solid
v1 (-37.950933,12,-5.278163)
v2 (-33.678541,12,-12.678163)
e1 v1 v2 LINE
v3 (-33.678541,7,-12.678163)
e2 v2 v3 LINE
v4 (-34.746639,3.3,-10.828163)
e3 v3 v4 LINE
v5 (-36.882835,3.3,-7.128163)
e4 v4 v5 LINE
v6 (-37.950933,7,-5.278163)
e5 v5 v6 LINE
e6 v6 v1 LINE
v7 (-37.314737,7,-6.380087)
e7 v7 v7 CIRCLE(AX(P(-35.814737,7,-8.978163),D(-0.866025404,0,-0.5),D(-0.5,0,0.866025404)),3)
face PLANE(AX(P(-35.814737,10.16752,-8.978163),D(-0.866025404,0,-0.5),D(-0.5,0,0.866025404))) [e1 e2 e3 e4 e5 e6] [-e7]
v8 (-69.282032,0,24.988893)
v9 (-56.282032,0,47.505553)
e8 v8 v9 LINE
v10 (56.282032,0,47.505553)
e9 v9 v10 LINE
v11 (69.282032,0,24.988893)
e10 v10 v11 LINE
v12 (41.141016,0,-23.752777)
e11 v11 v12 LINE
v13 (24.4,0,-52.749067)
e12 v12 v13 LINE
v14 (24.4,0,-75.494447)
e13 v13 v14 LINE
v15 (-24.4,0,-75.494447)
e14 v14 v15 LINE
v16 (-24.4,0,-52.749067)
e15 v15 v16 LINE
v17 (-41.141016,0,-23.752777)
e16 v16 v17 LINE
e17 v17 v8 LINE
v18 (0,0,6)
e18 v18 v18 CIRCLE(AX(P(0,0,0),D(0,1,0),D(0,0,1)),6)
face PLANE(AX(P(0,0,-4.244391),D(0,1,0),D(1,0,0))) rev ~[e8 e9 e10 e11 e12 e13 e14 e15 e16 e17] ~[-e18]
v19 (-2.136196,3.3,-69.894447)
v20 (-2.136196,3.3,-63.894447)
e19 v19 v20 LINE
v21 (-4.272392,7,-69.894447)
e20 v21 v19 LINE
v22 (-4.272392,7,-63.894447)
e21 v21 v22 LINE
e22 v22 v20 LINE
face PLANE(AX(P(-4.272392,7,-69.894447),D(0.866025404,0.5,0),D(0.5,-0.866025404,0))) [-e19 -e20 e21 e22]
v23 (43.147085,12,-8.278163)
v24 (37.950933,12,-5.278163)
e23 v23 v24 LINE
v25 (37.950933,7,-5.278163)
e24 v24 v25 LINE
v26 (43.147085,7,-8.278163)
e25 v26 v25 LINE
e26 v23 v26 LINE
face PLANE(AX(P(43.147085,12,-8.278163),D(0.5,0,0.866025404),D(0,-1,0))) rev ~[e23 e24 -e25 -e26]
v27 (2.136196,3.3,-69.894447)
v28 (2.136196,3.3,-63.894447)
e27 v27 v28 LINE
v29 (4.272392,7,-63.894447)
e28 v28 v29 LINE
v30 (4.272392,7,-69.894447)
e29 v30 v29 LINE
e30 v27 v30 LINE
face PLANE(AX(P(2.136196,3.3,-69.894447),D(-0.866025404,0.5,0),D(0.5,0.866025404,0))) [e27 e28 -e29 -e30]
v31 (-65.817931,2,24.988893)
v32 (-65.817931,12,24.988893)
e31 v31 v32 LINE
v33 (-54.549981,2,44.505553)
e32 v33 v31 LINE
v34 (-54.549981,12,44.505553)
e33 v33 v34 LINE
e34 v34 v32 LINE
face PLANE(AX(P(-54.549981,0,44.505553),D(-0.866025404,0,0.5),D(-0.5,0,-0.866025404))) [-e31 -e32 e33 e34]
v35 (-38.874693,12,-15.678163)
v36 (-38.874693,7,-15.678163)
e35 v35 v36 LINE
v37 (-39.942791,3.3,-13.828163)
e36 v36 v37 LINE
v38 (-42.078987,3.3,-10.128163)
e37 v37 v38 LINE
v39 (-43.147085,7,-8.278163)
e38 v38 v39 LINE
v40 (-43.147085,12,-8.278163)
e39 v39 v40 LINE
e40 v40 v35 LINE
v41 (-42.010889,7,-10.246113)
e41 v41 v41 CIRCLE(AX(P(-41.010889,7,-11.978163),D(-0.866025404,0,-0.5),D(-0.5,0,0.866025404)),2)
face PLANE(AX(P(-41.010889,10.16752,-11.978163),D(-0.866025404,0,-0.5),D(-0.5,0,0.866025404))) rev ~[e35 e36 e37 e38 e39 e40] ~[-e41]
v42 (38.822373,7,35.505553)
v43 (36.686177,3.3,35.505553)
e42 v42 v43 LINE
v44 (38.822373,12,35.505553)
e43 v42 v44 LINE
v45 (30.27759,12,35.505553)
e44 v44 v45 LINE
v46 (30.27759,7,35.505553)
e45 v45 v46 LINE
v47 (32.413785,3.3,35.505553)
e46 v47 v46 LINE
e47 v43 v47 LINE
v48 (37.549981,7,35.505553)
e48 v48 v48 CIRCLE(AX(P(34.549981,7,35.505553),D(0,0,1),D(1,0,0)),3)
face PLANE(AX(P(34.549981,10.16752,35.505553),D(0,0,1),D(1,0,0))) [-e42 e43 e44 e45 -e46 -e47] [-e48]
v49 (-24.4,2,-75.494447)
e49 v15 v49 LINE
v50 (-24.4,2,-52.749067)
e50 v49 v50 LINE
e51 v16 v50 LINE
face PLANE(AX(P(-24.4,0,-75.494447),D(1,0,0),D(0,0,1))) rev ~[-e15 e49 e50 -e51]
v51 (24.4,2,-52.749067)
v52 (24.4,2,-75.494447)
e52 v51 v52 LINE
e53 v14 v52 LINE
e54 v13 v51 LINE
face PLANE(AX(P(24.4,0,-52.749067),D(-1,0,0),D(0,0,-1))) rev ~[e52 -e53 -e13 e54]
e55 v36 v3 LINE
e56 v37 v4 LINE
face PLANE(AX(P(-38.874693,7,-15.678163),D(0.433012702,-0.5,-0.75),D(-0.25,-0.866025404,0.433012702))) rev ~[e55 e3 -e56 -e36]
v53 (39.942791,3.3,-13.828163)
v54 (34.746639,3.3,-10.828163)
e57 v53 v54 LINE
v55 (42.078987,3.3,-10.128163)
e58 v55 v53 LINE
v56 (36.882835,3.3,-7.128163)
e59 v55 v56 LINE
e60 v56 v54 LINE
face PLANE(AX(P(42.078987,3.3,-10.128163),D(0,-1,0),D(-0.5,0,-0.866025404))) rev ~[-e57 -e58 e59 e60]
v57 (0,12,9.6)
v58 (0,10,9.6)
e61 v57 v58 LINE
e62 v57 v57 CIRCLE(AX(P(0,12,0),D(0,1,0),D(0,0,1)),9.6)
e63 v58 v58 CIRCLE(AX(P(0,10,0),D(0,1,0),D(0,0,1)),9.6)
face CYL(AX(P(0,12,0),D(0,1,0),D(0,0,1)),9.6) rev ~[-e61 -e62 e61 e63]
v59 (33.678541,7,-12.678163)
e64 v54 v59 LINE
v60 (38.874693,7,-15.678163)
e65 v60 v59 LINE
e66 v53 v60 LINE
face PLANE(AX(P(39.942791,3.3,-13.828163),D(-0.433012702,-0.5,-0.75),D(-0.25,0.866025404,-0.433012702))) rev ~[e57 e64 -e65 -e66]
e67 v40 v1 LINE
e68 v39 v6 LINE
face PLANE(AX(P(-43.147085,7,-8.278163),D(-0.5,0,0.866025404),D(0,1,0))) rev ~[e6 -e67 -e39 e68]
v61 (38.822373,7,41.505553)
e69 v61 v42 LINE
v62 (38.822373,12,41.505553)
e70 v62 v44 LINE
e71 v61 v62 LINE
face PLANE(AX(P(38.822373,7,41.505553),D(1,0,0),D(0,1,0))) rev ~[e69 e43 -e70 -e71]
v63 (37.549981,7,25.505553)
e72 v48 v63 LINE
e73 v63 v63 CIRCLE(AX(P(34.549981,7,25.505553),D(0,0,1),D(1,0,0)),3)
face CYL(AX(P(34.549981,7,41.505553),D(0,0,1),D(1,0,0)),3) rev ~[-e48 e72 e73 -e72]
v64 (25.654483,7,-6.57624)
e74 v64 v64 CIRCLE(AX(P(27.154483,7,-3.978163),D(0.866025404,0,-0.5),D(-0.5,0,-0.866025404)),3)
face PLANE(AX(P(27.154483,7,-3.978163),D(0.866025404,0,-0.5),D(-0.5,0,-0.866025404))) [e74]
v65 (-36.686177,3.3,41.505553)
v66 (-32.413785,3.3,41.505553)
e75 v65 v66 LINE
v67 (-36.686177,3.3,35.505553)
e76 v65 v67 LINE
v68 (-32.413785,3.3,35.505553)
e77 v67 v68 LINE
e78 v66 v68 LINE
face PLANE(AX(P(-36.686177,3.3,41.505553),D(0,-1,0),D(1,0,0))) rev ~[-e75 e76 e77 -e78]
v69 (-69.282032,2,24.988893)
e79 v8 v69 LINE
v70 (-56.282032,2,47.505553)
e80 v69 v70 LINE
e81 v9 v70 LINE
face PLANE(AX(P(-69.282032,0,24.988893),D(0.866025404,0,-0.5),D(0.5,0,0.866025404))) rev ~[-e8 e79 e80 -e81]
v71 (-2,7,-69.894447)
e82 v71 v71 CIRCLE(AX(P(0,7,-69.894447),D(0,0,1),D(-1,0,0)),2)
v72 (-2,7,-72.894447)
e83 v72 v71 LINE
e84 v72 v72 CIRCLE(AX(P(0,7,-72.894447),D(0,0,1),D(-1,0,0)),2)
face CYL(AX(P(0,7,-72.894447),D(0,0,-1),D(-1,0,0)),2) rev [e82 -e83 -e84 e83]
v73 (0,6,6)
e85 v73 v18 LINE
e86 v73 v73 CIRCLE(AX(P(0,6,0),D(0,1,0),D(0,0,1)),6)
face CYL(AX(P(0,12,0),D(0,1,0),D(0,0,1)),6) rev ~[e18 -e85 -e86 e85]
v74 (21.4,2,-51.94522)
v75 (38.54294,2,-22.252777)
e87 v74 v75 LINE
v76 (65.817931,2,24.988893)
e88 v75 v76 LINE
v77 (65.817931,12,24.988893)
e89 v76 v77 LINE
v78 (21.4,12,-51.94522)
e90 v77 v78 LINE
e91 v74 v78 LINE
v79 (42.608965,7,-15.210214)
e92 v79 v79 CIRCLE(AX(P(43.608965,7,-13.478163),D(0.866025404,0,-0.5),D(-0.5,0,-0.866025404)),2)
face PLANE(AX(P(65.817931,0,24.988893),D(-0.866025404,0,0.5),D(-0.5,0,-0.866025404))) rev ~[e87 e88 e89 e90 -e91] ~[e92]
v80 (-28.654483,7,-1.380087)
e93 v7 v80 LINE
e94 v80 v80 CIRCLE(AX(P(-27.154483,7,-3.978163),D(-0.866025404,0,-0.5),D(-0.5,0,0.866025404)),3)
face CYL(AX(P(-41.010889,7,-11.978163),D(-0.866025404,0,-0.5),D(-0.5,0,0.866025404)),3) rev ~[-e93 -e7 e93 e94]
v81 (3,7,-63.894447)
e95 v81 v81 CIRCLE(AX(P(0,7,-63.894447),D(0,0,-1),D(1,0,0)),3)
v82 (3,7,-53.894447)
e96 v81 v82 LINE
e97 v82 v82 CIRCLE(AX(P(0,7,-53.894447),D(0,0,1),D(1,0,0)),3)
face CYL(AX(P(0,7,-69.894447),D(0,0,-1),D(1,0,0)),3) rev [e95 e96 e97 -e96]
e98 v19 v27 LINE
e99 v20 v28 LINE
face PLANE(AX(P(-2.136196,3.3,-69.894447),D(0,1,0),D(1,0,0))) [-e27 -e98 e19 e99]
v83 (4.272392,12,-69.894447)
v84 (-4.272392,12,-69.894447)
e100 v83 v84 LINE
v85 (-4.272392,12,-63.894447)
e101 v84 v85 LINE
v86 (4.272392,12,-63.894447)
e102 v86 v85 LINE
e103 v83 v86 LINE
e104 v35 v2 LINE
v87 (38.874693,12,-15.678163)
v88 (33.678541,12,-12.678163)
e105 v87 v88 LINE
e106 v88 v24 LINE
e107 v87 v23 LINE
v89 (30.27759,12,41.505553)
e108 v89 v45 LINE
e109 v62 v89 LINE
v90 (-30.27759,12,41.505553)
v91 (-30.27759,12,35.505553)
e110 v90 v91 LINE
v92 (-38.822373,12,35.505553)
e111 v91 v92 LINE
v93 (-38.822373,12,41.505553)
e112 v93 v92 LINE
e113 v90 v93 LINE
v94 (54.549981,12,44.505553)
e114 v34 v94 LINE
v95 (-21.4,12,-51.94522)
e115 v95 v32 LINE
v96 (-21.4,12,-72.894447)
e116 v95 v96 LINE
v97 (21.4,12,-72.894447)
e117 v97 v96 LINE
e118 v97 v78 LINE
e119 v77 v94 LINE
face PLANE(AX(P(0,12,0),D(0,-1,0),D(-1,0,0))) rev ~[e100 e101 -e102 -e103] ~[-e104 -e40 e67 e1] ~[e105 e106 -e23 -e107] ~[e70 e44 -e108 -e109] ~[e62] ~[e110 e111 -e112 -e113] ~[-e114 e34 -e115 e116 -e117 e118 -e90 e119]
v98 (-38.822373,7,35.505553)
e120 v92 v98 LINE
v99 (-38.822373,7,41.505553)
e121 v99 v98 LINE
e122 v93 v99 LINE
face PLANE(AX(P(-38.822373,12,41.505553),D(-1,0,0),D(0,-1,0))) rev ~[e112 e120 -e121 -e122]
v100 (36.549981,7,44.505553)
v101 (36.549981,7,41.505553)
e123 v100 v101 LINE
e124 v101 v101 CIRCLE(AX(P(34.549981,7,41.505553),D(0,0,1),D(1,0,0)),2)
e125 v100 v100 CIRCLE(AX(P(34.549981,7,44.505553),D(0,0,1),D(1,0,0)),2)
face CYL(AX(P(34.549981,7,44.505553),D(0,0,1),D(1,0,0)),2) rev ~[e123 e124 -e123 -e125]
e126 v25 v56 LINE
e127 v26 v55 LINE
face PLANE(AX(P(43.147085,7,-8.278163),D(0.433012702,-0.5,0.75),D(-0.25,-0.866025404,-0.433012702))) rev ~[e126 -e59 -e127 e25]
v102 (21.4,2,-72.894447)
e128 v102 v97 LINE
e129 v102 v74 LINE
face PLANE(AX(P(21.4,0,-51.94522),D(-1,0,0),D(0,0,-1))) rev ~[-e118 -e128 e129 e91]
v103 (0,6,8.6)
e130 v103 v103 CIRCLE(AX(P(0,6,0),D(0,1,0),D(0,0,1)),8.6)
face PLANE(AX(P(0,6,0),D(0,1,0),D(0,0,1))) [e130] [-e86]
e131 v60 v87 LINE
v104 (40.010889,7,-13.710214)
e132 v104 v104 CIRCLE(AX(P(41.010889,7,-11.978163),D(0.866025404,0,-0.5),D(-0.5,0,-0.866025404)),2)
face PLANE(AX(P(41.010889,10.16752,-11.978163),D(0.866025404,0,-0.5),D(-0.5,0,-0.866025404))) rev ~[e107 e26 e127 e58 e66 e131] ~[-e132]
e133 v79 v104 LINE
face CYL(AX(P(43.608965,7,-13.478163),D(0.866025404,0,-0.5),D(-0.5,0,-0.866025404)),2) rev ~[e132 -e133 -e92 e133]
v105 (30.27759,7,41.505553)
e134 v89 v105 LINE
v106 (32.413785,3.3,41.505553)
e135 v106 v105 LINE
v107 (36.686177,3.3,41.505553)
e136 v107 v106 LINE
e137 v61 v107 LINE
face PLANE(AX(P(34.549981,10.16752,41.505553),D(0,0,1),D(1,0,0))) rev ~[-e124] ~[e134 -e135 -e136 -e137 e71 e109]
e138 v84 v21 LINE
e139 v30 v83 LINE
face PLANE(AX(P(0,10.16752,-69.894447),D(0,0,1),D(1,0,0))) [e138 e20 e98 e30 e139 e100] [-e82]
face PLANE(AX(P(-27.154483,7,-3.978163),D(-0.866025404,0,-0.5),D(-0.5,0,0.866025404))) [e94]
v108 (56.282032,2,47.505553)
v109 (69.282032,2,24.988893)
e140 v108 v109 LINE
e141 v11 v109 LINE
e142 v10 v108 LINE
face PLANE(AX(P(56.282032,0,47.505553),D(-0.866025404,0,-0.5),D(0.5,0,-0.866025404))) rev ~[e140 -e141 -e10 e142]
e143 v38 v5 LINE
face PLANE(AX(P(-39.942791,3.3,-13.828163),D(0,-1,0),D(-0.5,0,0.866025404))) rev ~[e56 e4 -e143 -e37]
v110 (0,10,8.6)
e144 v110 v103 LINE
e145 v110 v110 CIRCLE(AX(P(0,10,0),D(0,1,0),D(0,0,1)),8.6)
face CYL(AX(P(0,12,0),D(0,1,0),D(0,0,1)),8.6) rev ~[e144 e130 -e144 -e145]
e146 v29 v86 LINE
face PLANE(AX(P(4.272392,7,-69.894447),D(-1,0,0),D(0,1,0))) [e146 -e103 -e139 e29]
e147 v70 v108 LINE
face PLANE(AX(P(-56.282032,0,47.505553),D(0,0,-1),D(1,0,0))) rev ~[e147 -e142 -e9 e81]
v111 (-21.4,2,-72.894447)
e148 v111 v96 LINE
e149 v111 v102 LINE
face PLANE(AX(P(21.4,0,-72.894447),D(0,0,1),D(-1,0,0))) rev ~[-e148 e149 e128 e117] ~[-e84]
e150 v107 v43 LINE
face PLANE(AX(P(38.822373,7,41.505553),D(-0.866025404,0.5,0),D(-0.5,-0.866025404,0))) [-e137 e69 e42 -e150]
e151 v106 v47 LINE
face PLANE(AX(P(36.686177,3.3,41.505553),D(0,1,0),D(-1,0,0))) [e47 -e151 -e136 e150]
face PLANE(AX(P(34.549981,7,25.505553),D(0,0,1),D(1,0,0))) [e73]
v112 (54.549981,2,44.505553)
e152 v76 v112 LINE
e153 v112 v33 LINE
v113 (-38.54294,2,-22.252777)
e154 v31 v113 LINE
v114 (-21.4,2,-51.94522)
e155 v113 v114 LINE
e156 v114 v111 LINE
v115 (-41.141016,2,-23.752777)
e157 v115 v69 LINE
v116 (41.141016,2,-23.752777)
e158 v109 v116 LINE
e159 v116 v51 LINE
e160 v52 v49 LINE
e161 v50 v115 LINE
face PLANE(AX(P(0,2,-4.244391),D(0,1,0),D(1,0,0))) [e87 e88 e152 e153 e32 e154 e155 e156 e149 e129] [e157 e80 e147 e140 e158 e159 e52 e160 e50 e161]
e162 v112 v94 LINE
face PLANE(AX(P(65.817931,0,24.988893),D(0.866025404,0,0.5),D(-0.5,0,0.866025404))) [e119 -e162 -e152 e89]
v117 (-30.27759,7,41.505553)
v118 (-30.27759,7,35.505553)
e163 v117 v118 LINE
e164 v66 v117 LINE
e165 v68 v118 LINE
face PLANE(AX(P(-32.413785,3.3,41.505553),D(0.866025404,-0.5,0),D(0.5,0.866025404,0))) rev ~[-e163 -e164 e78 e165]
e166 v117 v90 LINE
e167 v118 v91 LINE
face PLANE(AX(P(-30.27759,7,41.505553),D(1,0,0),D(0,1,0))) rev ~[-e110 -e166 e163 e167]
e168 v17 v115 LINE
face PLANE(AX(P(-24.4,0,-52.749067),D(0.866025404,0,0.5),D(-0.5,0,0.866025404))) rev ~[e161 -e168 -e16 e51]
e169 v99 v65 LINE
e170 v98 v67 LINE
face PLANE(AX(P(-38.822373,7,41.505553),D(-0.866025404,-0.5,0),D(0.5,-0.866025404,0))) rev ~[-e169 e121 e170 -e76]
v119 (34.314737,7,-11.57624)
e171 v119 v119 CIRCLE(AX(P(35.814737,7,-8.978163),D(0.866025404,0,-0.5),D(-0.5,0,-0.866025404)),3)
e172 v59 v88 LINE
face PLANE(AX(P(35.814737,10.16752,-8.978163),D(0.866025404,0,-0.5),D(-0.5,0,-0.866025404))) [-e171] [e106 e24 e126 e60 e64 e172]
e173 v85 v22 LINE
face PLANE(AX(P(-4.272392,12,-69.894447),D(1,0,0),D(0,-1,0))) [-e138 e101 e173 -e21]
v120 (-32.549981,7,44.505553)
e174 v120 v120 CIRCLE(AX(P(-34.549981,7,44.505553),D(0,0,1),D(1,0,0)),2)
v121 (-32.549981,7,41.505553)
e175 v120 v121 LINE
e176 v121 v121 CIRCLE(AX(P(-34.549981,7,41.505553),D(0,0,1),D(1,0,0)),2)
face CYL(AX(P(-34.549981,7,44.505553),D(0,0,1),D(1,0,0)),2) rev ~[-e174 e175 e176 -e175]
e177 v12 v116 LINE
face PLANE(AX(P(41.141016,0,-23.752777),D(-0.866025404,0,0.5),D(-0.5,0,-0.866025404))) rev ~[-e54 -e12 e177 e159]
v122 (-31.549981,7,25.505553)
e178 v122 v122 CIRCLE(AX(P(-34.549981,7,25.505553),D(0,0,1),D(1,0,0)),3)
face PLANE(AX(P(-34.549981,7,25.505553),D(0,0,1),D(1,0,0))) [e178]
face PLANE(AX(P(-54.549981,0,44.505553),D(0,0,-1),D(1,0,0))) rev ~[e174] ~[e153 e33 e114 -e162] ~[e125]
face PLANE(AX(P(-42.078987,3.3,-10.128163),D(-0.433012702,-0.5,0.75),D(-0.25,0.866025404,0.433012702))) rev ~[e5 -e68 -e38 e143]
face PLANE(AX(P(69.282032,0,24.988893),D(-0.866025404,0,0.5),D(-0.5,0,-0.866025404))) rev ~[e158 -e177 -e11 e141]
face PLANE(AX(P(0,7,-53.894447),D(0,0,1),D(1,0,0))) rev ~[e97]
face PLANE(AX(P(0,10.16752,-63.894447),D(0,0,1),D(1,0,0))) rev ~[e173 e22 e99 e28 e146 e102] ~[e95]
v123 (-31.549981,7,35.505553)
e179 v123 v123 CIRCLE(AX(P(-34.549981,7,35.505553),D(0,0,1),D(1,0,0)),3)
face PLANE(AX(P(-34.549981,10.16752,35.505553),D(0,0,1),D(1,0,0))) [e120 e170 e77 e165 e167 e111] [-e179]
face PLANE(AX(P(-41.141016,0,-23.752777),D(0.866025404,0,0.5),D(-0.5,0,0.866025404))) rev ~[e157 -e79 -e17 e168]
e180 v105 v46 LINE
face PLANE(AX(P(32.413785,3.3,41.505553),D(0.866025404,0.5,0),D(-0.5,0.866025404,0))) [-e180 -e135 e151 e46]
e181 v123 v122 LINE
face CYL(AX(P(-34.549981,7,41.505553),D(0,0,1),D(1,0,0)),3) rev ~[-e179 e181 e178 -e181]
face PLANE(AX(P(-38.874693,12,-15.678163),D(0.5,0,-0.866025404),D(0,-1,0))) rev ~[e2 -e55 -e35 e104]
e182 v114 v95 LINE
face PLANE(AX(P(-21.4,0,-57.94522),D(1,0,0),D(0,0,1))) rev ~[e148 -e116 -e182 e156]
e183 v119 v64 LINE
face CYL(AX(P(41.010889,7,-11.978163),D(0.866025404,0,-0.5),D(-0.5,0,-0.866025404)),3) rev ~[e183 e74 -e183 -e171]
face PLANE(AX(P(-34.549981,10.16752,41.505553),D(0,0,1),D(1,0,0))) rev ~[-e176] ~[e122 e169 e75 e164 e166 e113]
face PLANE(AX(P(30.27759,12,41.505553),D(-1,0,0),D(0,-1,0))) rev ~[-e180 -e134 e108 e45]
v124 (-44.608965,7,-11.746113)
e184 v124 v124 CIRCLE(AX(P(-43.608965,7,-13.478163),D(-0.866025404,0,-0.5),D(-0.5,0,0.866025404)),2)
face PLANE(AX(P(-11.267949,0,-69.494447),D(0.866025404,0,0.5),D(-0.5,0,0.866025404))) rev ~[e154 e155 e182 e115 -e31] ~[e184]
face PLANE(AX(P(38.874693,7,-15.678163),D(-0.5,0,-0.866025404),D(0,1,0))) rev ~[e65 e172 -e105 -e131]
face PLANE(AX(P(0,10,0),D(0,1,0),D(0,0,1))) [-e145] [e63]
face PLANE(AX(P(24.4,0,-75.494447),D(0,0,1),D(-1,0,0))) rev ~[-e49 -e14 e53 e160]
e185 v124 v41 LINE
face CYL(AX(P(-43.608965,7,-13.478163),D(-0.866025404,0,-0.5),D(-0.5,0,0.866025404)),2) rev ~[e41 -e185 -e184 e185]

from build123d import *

# Parameters (mm, degrees)
SKETCH1_R           = 9.6
SKETCH1_R_2         = 8.6
SKETCH1_R_3         = 6
BOSS_EXTRUDE1_DEPTH = 12
BOSS_EXTRUDE2_DEPTH = 2
CUT_EXTRUDE1_START  = 12
SKETCH1_4_R         = 9.6
SKETCH1_4_R_2       = 8.6
CUT_EXTRUDE1_DEPTH  = 2
CUT_EXTRUDE2_START  = 12
SKETCH1_5_R         = 8.6
SKETCH1_5_R_2       = 6
CUT_EXTRUDE2_DEPTH  = 6
CUT_EXTRUDE3_START  = 12
SKETCH1_6_R         = 6
CUT_EXTRUDE3_DEPTH  = 116.166910647
SKETCH2_R           = 2
CUT_EXTRUDE4_DEPTH  = 3
CUT_EXTRUDE5_START  = -3
SKETCH2_4_R         = 3
SKETCH2_4_R_2       = 2
CUT_EXTRUDE5_DEPTH  = 6
CUT_EXTRUDE6_START  = -3
SKETCH2_5_R         = 3
SKETCH2_5_R_2       = 2
CUT_EXTRUDE6_DEPTH  = 16
SKETCH3_R           = 2
CUT_EXTRUDE7_DEPTH  = 3
CUT_EXTRUDE8_START  = 3
SKETCH3_7_R         = 3
SKETCH3_7_R_2       = 2
CUT_EXTRUDE8_DEPTH  = 6
CUT_EXTRUDE9_START  = 3
SKETCH3_8_R         = 3
SKETCH3_8_R_2       = 2
CUT_EXTRUDE9_DEPTH  = 16
SKETCH4_R           = 2
CUT_EXTRUDE10_DEPTH = 3
CUT_EXTRUDE11_START = -3
SKETCH4_3_R         = 3
SKETCH4_3_R_2       = 2
CUT_EXTRUDE11_DEPTH = 6
CUT_EXTRUDE12_START = -3
SKETCH4_4_R         = 3
SKETCH4_4_R_2       = 2
CUT_EXTRUDE12_DEPTH = 16
SKETCH5_R           = 2
CUT_EXTRUDE13_DEPTH = 3
CUT_EXTRUDE14_START = -3
SKETCH5_3_R         = 3
SKETCH5_3_R_2       = 2
CUT_EXTRUDE14_DEPTH = 6
CUT_EXTRUDE15_START = -3
SKETCH5_4_R         = 3
SKETCH5_4_R_2       = 2
CUT_EXTRUDE15_DEPTH = 16


with BuildPart() as part:
    # Sketch1 → Boss-Extrude1 (new body)
    # profile 1 of 7: a face of its own
    with BuildSketch(Plane(origin=(0, 0, 0), x_dir=(1, 0, 0), z_dir=(0, 1, 0))):
        Polygon((-65.817930688, -24.988893001), (-38.54293994, 22.25277675), (-11.267949192, 69.494446501), (11.267949192, 69.494446501), (38.54293994, 22.25277675), (65.817930688, -24.988893001), (54.549981495, -44.505553499), (0, -44.505553499), (-54.549981495, -44.505553499), align=None)
        Polygon((-52.817930688, -41.505553499), (-62.353829072, -24.988893001), (-35.944863729, 20.75277675), (-9.535898385, 66.494446501), (9.535898385, 66.494446501), (35.944863729, 20.75277675), (62.353829072, -24.988893001), (52.817930688, -41.505553499), (0, -41.505553499), align=None, mode=Mode.SUBTRACT)
    # profile 2 of 7: a face of its own
    with BuildSketch(Plane(origin=(0, 0, 0), x_dir=(1, 0, 0), z_dir=(0, 1, 0))):
        Polygon((-62.353829072, -24.988893001), (-35.944863729, 20.75277675), (-9.535898385, 66.494446501), (9.535898385, 66.494446501), (35.944863729, 20.75277675), (62.353829072, -24.988893001), (52.817930688, -41.505553499), (0, -41.505553499), (-52.817930688, -41.505553499), align=None)
        Circle(SKETCH1_R, mode=Mode.SUBTRACT)
    # profile 3 of 7: a face of its own
    with BuildSketch(Plane(origin=(0, 0, 0), x_dir=(1, 0, 0), z_dir=(0, 1, 0))):
        Polygon((13, 72.494446501), (-13, 72.494446501), (-21.4, 57.945219717), (-21.4, 51.945219717), (-11.267949192, 69.494446501), (11.267949192, 69.494446501), (21.4, 51.945219717), (21.4, 57.945219717), align=None)
    # profile 4 of 7: a face of its own
    with BuildSketch(Plane(origin=(0, 0, 0), x_dir=(1, 0, 0), z_dir=(0, 1, 0))):
        Polygon((-21.4, 57.945219717), (-13, 72.494446501), (13, 72.494446501), (21.4, 57.945219717), (21.4, 72.894446501), (-21.4, 72.894446501), align=None)
    # profile 5 of 7: a face of its own
    with BuildSketch(Plane(origin=(0, 0, 0), x_dir=(1, 0, 0), z_dir=(0, 1, 0))):
        Circle(SKETCH1_R)
        Circle(SKETCH1_R_2, mode=Mode.SUBTRACT)
    # profile 6 of 7: a face of its own
    with BuildSketch(Plane(origin=(0, 0, 0), x_dir=(1, 0, 0), z_dir=(0, 1, 0))):
        Circle(SKETCH1_R_2)
        Circle(SKETCH1_R_3, mode=Mode.SUBTRACT)
    # profile 7 of 7: a face of its own
    with BuildSketch(Plane(origin=(0, 0, 0), x_dir=(1, 0, 0), z_dir=(0, 1, 0))):
        Circle(SKETCH1_R_3)
    extrude(amount=BOSS_EXTRUDE1_DEPTH)

    # Sketch1<3> → Boss-Extrude2 (add)
    with BuildSketch(Plane(origin=(0, 0, 0), x_dir=(1, 0, 0), z_dir=(0, 1, 0))):
        Polygon((56.282032303, -47.505553499), (69.282032303, -24.988893001), (41.141016151, 23.75277675), (24.4, 52.749067294), (24.4, 75.494446501), (-24.4, 75.494446501), (-24.4, 52.749067294), (-41.141016151, 23.75277675), (-69.282032303, -24.988893001), (-56.282032303, -47.505553499), (0, -47.505553499), align=None)
        Polygon((-21.4, 51.945219717), (-21.4, 57.945219717), (-21.4, 72.894446501), (21.4, 72.894446501), (21.4, 57.945219717), (21.4, 51.945219717), (38.54293994, 22.25277675), (65.817930688, -24.988893001), (54.549981495, -44.505553499), (0, -44.505553499), (-54.549981495, -44.505553499), (-65.817930688, -24.988893001), (-38.54293994, 22.25277675), align=None, mode=Mode.SUBTRACT)
    extrude(amount=BOSS_EXTRUDE2_DEPTH)

    # Sketch1<4> → Cut-Extrude1 (cut)
    with BuildSketch(Plane(origin=(0, 0, 0), x_dir=(1, 0, 0), z_dir=(0, 1, 0)).offset(CUT_EXTRUDE1_START)):
        with Locations(Location((0, 0, 0), (0, 0, 270))):
            Circle(SKETCH1_4_R)
        with Locations(Location((0, 0, 0), (0, 0, 270))):
            Circle(SKETCH1_4_R_2, mode=Mode.SUBTRACT)
    extrude(amount=-CUT_EXTRUDE1_DEPTH, mode=Mode.SUBTRACT)

    # Sketch1<5> → Cut-Extrude2 (cut)
    with BuildSketch(Plane(origin=(0, 0, 0), x_dir=(1, 0, 0), z_dir=(0, 1, 0)).offset(CUT_EXTRUDE2_START)):
        with Locations(Location((0, 0, 0), (0, 0, 270))):
            Circle(SKETCH1_5_R)
        with Locations(Location((0, 0, 0), (0, 0, 270))):
            Circle(SKETCH1_5_R_2, mode=Mode.SUBTRACT)
    extrude(amount=-CUT_EXTRUDE2_DEPTH, mode=Mode.SUBTRACT)

    # Sketch1<6> → Cut-Extrude3 (cut, through all)
    with BuildSketch(Plane(origin=(0, 0, 0), x_dir=(1, 0, 0), z_dir=(0, 1, 0)).offset(CUT_EXTRUDE3_START)):
        with Locations(Location((0, 0, 0), (0, 0, 270))):
            Circle(SKETCH1_6_R)
    extrude(amount=-CUT_EXTRUDE3_DEPTH, mode=Mode.SUBTRACT)

    # Sketch2 → Cut-Extrude4 (cut)
    with BuildSketch(Plane.XY.offset(44.505553499)):
        with Locations((-34.549981495, 7)):
            Circle(SKETCH2_R)
        with Locations((34.549981495, 7)):
            Circle(SKETCH2_R)
    extrude(amount=-CUT_EXTRUDE4_DEPTH, mode=Mode.SUBTRACT)

    # Sketch2<4> → Cut-Extrude5 (cut)
    # profile 1 of 8: a face of its own
    with BuildSketch(Plane.XY.offset(44.505553499).offset(CUT_EXTRUDE5_START)):
        Polygon((-38.822373487, 12), (-38.822373487, 7), (-36.686177491, 10.7), (-32.413785499, 10.7), (-30.277589503, 7), (-30.277589503, 12), align=None)
    # profile 2 of 8: a face of its own
    with BuildSketch(Plane.XY.offset(44.505553499).offset(CUT_EXTRUDE5_START)):
        Polygon((-32.413785499, 10.7), (-36.686177491, 10.7), (-38.822373487, 7), (-36.686177491, 3.3), (-32.413785499, 3.3), (-30.277589503, 7), align=None)
        with Locations((-34.549981495, 7)):
            Circle(SKETCH2_4_R, mode=Mode.SUBTRACT)
    # profile 3 of 8: a face of its own
    with BuildSketch(Plane.XY.offset(44.505553499).offset(CUT_EXTRUDE5_START)):
        with Locations((-34.549981495, 7)):
            Circle(SKETCH2_4_R)
        with Locations((-34.549981495, 7)):
            Circle(SKETCH2_4_R_2, mode=Mode.SUBTRACT)
    # profile 4 of 8: a face of its own
    with BuildSketch(Plane.XY.offset(44.505553499).offset(CUT_EXTRUDE5_START)):
        with Locations((-34.549981495, 7)):
            Circle(SKETCH2_4_R_2)
    # profile 5 of 8: a face of its own
    with BuildSketch(Plane.XY.offset(44.505553499).offset(CUT_EXTRUDE5_START)):
        Polygon((38.822373487, 7), (36.686177491, 3.3), (32.413785499, 3.3), (30.277589503, 7), (32.413785499, 10.7), (36.686177491, 10.7), align=None)
        with Locations((34.549981495, 7)):
            Circle(SKETCH2_4_R, mode=Mode.SUBTRACT)
    # profile 6 of 8: a face of its own
    with BuildSketch(Plane.XY.offset(44.505553499).offset(CUT_EXTRUDE5_START)):
        with Locations((34.549981495, 7)):
            Circle(SKETCH2_4_R)
        with Locations((34.549981495, 7)):
            Circle(SKETCH2_4_R_2, mode=Mode.SUBTRACT)
    # profile 7 of 8: a face of its own
    with BuildSketch(Plane.XY.offset(44.505553499).offset(CUT_EXTRUDE5_START)):
        with Locations((34.549981495, 7)):
            Circle(SKETCH2_4_R_2)
    # profile 8 of 8: a face of its own
    with BuildSketch(Plane.XY.offset(44.505553499).offset(CUT_EXTRUDE5_START)):
        Polygon((38.822373487, 12), (30.277589503, 12), (30.277589503, 7), (32.413785499, 10.7), (36.686177491, 10.7), (38.822373487, 7), align=None)
    extrude(amount=-CUT_EXTRUDE5_DEPTH, mode=Mode.SUBTRACT)

    # Sketch2<5> → Cut-Extrude6 (cut)
    # profile 1 of 4: a face of its own
    with BuildSketch(Plane.XY.offset(44.505553499).offset(CUT_EXTRUDE6_START)):
        with Locations((-34.549981495, 7)):
            Circle(SKETCH2_5_R)
        with Locations((-34.549981495, 7)):
            Circle(SKETCH2_5_R_2, mode=Mode.SUBTRACT)
    # profile 2 of 4: a face of its own
    with BuildSketch(Plane.XY.offset(44.505553499).offset(CUT_EXTRUDE6_START)):
        with Locations((34.549981495, 7)):
            Circle(SKETCH2_5_R)
        with Locations((34.549981495, 7)):
            Circle(SKETCH2_5_R_2, mode=Mode.SUBTRACT)
    # profile 3 of 4: a face of its own
    with BuildSketch(Plane.XY.offset(44.505553499).offset(CUT_EXTRUDE6_START)):
        with Locations((-34.549981495, 7)):
            Circle(SKETCH2_5_R_2)
    # profile 4 of 4: a face of its own
    with BuildSketch(Plane.XY.offset(44.505553499).offset(CUT_EXTRUDE6_START)):
        with Locations((34.549981495, 7)):
            Circle(SKETCH2_5_R_2)
    extrude(amount=-CUT_EXTRUDE6_DEPTH, mode=Mode.SUBTRACT)

    # Sketch3 → Cut-Extrude7 (cut)
    with BuildSketch(Plane.XY.offset(-72.894446501)):
        with Locations(Location((0, 7, 0), (0, 0, 180))):
            Circle(SKETCH3_R)
    extrude(amount=CUT_EXTRUDE7_DEPTH, mode=Mode.SUBTRACT)

    # Sketch3<7> → Cut-Extrude8 (cut)
    # profile 1 of 4: a face of its own
    with BuildSketch(Plane.XY.offset(-72.894446501).offset(CUT_EXTRUDE8_START)):
        Polygon((2.136195996, 10.7), (4.272391992, 7), (4.272391992, 12), (-4.272391992, 12), (-4.272391992, 7), (-2.136195996, 10.7), align=None)
    # profile 2 of 4: a face of its own
    with BuildSketch(Plane.XY.offset(-72.894446501).offset(CUT_EXTRUDE8_START)):
        Polygon((2.136195996, 3.3), (4.272391992, 7), (2.136195996, 10.7), (-2.136195996, 10.7), (-4.272391992, 7), (-2.136195996, 3.3), align=None)
        with Locations((0, 7)):
            Circle(SKETCH3_7_R, mode=Mode.SUBTRACT)
    # profile 3 of 4: a face of its own
    with BuildSketch(Plane.XY.offset(-72.894446501).offset(CUT_EXTRUDE8_START)):
        with Locations((0, 7)):
            Circle(SKETCH3_7_R)
        with Locations(Location((0, 7, 0), (0, 0, 180))):
            Circle(SKETCH3_7_R_2, mode=Mode.SUBTRACT)
    # profile 4 of 4: a face of its own
    with BuildSketch(Plane.XY.offset(-72.894446501).offset(CUT_EXTRUDE8_START)):
        with Locations(Location((0, 7, 0), (0, 0, 180))):
            Circle(SKETCH3_7_R_2)
    extrude(amount=CUT_EXTRUDE8_DEPTH, mode=Mode.SUBTRACT)

    # Sketch3<8> → Cut-Extrude9 (cut)
    # profile 1 of 2: a face of its own
    with BuildSketch(Plane.XY.offset(-72.894446501).offset(CUT_EXTRUDE9_START)):
        with Locations((0, 7)):
            Circle(SKETCH3_8_R)
        with Locations(Location((0, 7, 0), (0, 0, 180))):
            Circle(SKETCH3_8_R_2, mode=Mode.SUBTRACT)
    # profile 2 of 2: a face of its own
    with BuildSketch(Plane.XY.offset(-72.894446501).offset(CUT_EXTRUDE9_START)):
        with Locations(Location((0, 7, 0), (0, 0, 180))):
            Circle(SKETCH3_8_R_2)
    extrude(amount=CUT_EXTRUDE9_DEPTH, mode=Mode.SUBTRACT)

    # Sketch4 → Cut-Extrude10 (cut)
    with BuildSketch(Plane(origin=(38.54293994, 0, -22.25277675), x_dir=(-0.5000000000000003, 0, -0.8660254037844386), z_dir=(0.8660254037844385, 0, -0.5000000000000002))):
        with Locations((-10.132050808, 7)):
            Circle(SKETCH4_R)
    extrude(amount=-CUT_EXTRUDE10_DEPTH, mode=Mode.SUBTRACT)

    # Sketch4<3> → Cut-Extrude11 (cut)
    # profile 1 of 4: a face of its own
    with BuildSketch(Plane(origin=(38.54293994, 0, -22.25277675), x_dir=(-0.5000000000000003, 0, -0.8660254037844386), z_dir=(0.8660254037844385, 0, -0.5000000000000002)).offset(CUT_EXTRUDE11_START)):
        Polygon((-14.4044428, 12), (-14.4044428, 7), (-12.268246804, 10.7), (-7.995854812, 10.7), (-5.859658816, 7), (-5.859658816, 12), align=None)
    # profile 2 of 4: a face of its own
    with BuildSketch(Plane(origin=(38.54293994, 0, -22.25277675), x_dir=(-0.5000000000000003, 0, -0.8660254037844386), z_dir=(0.8660254037844385, 0, -0.5000000000000002)).offset(CUT_EXTRUDE11_START)):
        Polygon((-7.995854812, 10.7), (-12.268246804, 10.7), (-14.4044428, 7), (-12.268246804, 3.3), (-7.995854812, 3.3), (-5.859658816, 7), align=None)
        with Locations((-10.132050808, 7)):
            Circle(SKETCH4_3_R, mode=Mode.SUBTRACT)
    # profile 3 of 4: a face of its own
    with BuildSketch(Plane(origin=(38.54293994, 0, -22.25277675), x_dir=(-0.5000000000000003, 0, -0.8660254037844386), z_dir=(0.8660254037844385, 0, -0.5000000000000002)).offset(CUT_EXTRUDE11_START)):
        with Locations((-10.132050808, 7)):
            Circle(SKETCH4_3_R)
        with Locations((-10.132050808, 7)):
            Circle(SKETCH4_3_R_2, mode=Mode.SUBTRACT)
    # profile 4 of 4: a face of its own
    with BuildSketch(Plane(origin=(38.54293994, 0, -22.25277675), x_dir=(-0.5000000000000003, 0, -0.8660254037844386), z_dir=(0.8660254037844385, 0, -0.5000000000000002)).offset(CUT_EXTRUDE11_START)):
        with Locations((-10.132050808, 7)):
            Circle(SKETCH4_3_R_2)
    extrude(amount=-CUT_EXTRUDE11_DEPTH, mode=Mode.SUBTRACT)

    # Sketch4<4> → Cut-Extrude12 (cut)
    # profile 1 of 2: a face of its own
    with BuildSketch(Plane(origin=(38.54293994, 0, -22.25277675), x_dir=(-0.5000000000000003, 0, -0.8660254037844386), z_dir=(0.8660254037844385, 0, -0.5000000000000002)).offset(CUT_EXTRUDE12_START)):
        with Locations((-10.132050808, 7)):
            Circle(SKETCH4_4_R)
        with Locations((-10.132050808, 7)):
            Circle(SKETCH4_4_R_2, mode=Mode.SUBTRACT)
    # profile 2 of 2: a face of its own
    with BuildSketch(Plane(origin=(38.54293994, 0, -22.25277675), x_dir=(-0.5000000000000003, 0, -0.8660254037844386), z_dir=(0.8660254037844385, 0, -0.5000000000000002)).offset(CUT_EXTRUDE12_START)):
        with Locations((-10.132050808, 7)):
            Circle(SKETCH4_4_R_2)
    extrude(amount=-CUT_EXTRUDE12_DEPTH, mode=Mode.SUBTRACT)

    # Sketch5 → Cut-Extrude13 (cut)
    with BuildSketch(Plane(origin=(-38.54293994, 0, -22.25277675), x_dir=(-0.4999999999999996, 0, 0.8660254037844389), z_dir=(-0.8660254037844389, 0, -0.4999999999999996))):
        with Locations((10.132050808, 7)):
            Circle(SKETCH5_R)
    extrude(amount=-CUT_EXTRUDE13_DEPTH, mode=Mode.SUBTRACT)

    # Sketch5<3> → Cut-Extrude14 (cut)
    # profile 1 of 4: a face of its own
    with BuildSketch(Plane(origin=(-38.54293994, 0, -22.25277675), x_dir=(-0.4999999999999996, 0, 0.8660254037844389), z_dir=(-0.8660254037844389, 0, -0.4999999999999996)).offset(CUT_EXTRUDE14_START)):
        Polygon((5.859658816, 12), (5.859658816, 7), (7.995854812, 10.7), (12.268246804, 10.7), (14.4044428, 7), (14.4044428, 12), align=None)
    # profile 2 of 4: a face of its own
    with BuildSketch(Plane(origin=(-38.54293994, 0, -22.25277675), x_dir=(-0.4999999999999996, 0, 0.8660254037844389), z_dir=(-0.8660254037844389, 0, -0.4999999999999996)).offset(CUT_EXTRUDE14_START)):
        Polygon((12.268246804, 10.7), (7.995854812, 10.7), (5.859658816, 7), (7.995854812, 3.3), (12.268246804, 3.3), (14.4044428, 7), align=None)
        with Locations((10.132050808, 7)):
            Circle(SKETCH5_3_R, mode=Mode.SUBTRACT)
    # profile 3 of 4: a face of its own
    with BuildSketch(Plane(origin=(-38.54293994, 0, -22.25277675), x_dir=(-0.4999999999999996, 0, 0.8660254037844389), z_dir=(-0.8660254037844389, 0, -0.4999999999999996)).offset(CUT_EXTRUDE14_START)):
        with Locations((10.132050808, 7)):
            Circle(SKETCH5_3_R)
        with Locations((10.132050808, 7)):
            Circle(SKETCH5_3_R_2, mode=Mode.SUBTRACT)
    # profile 4 of 4: a face of its own
    with BuildSketch(Plane(origin=(-38.54293994, 0, -22.25277675), x_dir=(-0.4999999999999996, 0, 0.8660254037844389), z_dir=(-0.8660254037844389, 0, -0.4999999999999996)).offset(CUT_EXTRUDE14_START)):
        with Locations((10.132050808, 7)):
            Circle(SKETCH5_3_R_2)
    extrude(amount=-CUT_EXTRUDE14_DEPTH, mode=Mode.SUBTRACT)

    # Sketch5<4> → Cut-Extrude15 (cut)
    # profile 1 of 2: a face of its own
    with BuildSketch(Plane(origin=(-38.54293994, 0, -22.25277675), x_dir=(-0.4999999999999996, 0, 0.8660254037844389), z_dir=(-0.8660254037844389, 0, -0.4999999999999996)).offset(CUT_EXTRUDE15_START)):
        with Locations((10.132050808, 7)):
            Circle(SKETCH5_4_R)
        with Locations((10.132050808, 7)):
            Circle(SKETCH5_4_R_2, mode=Mode.SUBTRACT)
    # profile 2 of 2: a face of its own
    with BuildSketch(Plane(origin=(-38.54293994, 0, -22.25277675), x_dir=(-0.4999999999999996, 0, 0.8660254037844389), z_dir=(-0.8660254037844389, 0, -0.4999999999999996)).offset(CUT_EXTRUDE15_START)):
        with Locations((10.132050808, 7)):
            Circle(SKETCH5_4_R_2)
    extrude(amount=-CUT_EXTRUDE15_DEPTH, mode=Mode.SUBTRACT)


solid = part.part
